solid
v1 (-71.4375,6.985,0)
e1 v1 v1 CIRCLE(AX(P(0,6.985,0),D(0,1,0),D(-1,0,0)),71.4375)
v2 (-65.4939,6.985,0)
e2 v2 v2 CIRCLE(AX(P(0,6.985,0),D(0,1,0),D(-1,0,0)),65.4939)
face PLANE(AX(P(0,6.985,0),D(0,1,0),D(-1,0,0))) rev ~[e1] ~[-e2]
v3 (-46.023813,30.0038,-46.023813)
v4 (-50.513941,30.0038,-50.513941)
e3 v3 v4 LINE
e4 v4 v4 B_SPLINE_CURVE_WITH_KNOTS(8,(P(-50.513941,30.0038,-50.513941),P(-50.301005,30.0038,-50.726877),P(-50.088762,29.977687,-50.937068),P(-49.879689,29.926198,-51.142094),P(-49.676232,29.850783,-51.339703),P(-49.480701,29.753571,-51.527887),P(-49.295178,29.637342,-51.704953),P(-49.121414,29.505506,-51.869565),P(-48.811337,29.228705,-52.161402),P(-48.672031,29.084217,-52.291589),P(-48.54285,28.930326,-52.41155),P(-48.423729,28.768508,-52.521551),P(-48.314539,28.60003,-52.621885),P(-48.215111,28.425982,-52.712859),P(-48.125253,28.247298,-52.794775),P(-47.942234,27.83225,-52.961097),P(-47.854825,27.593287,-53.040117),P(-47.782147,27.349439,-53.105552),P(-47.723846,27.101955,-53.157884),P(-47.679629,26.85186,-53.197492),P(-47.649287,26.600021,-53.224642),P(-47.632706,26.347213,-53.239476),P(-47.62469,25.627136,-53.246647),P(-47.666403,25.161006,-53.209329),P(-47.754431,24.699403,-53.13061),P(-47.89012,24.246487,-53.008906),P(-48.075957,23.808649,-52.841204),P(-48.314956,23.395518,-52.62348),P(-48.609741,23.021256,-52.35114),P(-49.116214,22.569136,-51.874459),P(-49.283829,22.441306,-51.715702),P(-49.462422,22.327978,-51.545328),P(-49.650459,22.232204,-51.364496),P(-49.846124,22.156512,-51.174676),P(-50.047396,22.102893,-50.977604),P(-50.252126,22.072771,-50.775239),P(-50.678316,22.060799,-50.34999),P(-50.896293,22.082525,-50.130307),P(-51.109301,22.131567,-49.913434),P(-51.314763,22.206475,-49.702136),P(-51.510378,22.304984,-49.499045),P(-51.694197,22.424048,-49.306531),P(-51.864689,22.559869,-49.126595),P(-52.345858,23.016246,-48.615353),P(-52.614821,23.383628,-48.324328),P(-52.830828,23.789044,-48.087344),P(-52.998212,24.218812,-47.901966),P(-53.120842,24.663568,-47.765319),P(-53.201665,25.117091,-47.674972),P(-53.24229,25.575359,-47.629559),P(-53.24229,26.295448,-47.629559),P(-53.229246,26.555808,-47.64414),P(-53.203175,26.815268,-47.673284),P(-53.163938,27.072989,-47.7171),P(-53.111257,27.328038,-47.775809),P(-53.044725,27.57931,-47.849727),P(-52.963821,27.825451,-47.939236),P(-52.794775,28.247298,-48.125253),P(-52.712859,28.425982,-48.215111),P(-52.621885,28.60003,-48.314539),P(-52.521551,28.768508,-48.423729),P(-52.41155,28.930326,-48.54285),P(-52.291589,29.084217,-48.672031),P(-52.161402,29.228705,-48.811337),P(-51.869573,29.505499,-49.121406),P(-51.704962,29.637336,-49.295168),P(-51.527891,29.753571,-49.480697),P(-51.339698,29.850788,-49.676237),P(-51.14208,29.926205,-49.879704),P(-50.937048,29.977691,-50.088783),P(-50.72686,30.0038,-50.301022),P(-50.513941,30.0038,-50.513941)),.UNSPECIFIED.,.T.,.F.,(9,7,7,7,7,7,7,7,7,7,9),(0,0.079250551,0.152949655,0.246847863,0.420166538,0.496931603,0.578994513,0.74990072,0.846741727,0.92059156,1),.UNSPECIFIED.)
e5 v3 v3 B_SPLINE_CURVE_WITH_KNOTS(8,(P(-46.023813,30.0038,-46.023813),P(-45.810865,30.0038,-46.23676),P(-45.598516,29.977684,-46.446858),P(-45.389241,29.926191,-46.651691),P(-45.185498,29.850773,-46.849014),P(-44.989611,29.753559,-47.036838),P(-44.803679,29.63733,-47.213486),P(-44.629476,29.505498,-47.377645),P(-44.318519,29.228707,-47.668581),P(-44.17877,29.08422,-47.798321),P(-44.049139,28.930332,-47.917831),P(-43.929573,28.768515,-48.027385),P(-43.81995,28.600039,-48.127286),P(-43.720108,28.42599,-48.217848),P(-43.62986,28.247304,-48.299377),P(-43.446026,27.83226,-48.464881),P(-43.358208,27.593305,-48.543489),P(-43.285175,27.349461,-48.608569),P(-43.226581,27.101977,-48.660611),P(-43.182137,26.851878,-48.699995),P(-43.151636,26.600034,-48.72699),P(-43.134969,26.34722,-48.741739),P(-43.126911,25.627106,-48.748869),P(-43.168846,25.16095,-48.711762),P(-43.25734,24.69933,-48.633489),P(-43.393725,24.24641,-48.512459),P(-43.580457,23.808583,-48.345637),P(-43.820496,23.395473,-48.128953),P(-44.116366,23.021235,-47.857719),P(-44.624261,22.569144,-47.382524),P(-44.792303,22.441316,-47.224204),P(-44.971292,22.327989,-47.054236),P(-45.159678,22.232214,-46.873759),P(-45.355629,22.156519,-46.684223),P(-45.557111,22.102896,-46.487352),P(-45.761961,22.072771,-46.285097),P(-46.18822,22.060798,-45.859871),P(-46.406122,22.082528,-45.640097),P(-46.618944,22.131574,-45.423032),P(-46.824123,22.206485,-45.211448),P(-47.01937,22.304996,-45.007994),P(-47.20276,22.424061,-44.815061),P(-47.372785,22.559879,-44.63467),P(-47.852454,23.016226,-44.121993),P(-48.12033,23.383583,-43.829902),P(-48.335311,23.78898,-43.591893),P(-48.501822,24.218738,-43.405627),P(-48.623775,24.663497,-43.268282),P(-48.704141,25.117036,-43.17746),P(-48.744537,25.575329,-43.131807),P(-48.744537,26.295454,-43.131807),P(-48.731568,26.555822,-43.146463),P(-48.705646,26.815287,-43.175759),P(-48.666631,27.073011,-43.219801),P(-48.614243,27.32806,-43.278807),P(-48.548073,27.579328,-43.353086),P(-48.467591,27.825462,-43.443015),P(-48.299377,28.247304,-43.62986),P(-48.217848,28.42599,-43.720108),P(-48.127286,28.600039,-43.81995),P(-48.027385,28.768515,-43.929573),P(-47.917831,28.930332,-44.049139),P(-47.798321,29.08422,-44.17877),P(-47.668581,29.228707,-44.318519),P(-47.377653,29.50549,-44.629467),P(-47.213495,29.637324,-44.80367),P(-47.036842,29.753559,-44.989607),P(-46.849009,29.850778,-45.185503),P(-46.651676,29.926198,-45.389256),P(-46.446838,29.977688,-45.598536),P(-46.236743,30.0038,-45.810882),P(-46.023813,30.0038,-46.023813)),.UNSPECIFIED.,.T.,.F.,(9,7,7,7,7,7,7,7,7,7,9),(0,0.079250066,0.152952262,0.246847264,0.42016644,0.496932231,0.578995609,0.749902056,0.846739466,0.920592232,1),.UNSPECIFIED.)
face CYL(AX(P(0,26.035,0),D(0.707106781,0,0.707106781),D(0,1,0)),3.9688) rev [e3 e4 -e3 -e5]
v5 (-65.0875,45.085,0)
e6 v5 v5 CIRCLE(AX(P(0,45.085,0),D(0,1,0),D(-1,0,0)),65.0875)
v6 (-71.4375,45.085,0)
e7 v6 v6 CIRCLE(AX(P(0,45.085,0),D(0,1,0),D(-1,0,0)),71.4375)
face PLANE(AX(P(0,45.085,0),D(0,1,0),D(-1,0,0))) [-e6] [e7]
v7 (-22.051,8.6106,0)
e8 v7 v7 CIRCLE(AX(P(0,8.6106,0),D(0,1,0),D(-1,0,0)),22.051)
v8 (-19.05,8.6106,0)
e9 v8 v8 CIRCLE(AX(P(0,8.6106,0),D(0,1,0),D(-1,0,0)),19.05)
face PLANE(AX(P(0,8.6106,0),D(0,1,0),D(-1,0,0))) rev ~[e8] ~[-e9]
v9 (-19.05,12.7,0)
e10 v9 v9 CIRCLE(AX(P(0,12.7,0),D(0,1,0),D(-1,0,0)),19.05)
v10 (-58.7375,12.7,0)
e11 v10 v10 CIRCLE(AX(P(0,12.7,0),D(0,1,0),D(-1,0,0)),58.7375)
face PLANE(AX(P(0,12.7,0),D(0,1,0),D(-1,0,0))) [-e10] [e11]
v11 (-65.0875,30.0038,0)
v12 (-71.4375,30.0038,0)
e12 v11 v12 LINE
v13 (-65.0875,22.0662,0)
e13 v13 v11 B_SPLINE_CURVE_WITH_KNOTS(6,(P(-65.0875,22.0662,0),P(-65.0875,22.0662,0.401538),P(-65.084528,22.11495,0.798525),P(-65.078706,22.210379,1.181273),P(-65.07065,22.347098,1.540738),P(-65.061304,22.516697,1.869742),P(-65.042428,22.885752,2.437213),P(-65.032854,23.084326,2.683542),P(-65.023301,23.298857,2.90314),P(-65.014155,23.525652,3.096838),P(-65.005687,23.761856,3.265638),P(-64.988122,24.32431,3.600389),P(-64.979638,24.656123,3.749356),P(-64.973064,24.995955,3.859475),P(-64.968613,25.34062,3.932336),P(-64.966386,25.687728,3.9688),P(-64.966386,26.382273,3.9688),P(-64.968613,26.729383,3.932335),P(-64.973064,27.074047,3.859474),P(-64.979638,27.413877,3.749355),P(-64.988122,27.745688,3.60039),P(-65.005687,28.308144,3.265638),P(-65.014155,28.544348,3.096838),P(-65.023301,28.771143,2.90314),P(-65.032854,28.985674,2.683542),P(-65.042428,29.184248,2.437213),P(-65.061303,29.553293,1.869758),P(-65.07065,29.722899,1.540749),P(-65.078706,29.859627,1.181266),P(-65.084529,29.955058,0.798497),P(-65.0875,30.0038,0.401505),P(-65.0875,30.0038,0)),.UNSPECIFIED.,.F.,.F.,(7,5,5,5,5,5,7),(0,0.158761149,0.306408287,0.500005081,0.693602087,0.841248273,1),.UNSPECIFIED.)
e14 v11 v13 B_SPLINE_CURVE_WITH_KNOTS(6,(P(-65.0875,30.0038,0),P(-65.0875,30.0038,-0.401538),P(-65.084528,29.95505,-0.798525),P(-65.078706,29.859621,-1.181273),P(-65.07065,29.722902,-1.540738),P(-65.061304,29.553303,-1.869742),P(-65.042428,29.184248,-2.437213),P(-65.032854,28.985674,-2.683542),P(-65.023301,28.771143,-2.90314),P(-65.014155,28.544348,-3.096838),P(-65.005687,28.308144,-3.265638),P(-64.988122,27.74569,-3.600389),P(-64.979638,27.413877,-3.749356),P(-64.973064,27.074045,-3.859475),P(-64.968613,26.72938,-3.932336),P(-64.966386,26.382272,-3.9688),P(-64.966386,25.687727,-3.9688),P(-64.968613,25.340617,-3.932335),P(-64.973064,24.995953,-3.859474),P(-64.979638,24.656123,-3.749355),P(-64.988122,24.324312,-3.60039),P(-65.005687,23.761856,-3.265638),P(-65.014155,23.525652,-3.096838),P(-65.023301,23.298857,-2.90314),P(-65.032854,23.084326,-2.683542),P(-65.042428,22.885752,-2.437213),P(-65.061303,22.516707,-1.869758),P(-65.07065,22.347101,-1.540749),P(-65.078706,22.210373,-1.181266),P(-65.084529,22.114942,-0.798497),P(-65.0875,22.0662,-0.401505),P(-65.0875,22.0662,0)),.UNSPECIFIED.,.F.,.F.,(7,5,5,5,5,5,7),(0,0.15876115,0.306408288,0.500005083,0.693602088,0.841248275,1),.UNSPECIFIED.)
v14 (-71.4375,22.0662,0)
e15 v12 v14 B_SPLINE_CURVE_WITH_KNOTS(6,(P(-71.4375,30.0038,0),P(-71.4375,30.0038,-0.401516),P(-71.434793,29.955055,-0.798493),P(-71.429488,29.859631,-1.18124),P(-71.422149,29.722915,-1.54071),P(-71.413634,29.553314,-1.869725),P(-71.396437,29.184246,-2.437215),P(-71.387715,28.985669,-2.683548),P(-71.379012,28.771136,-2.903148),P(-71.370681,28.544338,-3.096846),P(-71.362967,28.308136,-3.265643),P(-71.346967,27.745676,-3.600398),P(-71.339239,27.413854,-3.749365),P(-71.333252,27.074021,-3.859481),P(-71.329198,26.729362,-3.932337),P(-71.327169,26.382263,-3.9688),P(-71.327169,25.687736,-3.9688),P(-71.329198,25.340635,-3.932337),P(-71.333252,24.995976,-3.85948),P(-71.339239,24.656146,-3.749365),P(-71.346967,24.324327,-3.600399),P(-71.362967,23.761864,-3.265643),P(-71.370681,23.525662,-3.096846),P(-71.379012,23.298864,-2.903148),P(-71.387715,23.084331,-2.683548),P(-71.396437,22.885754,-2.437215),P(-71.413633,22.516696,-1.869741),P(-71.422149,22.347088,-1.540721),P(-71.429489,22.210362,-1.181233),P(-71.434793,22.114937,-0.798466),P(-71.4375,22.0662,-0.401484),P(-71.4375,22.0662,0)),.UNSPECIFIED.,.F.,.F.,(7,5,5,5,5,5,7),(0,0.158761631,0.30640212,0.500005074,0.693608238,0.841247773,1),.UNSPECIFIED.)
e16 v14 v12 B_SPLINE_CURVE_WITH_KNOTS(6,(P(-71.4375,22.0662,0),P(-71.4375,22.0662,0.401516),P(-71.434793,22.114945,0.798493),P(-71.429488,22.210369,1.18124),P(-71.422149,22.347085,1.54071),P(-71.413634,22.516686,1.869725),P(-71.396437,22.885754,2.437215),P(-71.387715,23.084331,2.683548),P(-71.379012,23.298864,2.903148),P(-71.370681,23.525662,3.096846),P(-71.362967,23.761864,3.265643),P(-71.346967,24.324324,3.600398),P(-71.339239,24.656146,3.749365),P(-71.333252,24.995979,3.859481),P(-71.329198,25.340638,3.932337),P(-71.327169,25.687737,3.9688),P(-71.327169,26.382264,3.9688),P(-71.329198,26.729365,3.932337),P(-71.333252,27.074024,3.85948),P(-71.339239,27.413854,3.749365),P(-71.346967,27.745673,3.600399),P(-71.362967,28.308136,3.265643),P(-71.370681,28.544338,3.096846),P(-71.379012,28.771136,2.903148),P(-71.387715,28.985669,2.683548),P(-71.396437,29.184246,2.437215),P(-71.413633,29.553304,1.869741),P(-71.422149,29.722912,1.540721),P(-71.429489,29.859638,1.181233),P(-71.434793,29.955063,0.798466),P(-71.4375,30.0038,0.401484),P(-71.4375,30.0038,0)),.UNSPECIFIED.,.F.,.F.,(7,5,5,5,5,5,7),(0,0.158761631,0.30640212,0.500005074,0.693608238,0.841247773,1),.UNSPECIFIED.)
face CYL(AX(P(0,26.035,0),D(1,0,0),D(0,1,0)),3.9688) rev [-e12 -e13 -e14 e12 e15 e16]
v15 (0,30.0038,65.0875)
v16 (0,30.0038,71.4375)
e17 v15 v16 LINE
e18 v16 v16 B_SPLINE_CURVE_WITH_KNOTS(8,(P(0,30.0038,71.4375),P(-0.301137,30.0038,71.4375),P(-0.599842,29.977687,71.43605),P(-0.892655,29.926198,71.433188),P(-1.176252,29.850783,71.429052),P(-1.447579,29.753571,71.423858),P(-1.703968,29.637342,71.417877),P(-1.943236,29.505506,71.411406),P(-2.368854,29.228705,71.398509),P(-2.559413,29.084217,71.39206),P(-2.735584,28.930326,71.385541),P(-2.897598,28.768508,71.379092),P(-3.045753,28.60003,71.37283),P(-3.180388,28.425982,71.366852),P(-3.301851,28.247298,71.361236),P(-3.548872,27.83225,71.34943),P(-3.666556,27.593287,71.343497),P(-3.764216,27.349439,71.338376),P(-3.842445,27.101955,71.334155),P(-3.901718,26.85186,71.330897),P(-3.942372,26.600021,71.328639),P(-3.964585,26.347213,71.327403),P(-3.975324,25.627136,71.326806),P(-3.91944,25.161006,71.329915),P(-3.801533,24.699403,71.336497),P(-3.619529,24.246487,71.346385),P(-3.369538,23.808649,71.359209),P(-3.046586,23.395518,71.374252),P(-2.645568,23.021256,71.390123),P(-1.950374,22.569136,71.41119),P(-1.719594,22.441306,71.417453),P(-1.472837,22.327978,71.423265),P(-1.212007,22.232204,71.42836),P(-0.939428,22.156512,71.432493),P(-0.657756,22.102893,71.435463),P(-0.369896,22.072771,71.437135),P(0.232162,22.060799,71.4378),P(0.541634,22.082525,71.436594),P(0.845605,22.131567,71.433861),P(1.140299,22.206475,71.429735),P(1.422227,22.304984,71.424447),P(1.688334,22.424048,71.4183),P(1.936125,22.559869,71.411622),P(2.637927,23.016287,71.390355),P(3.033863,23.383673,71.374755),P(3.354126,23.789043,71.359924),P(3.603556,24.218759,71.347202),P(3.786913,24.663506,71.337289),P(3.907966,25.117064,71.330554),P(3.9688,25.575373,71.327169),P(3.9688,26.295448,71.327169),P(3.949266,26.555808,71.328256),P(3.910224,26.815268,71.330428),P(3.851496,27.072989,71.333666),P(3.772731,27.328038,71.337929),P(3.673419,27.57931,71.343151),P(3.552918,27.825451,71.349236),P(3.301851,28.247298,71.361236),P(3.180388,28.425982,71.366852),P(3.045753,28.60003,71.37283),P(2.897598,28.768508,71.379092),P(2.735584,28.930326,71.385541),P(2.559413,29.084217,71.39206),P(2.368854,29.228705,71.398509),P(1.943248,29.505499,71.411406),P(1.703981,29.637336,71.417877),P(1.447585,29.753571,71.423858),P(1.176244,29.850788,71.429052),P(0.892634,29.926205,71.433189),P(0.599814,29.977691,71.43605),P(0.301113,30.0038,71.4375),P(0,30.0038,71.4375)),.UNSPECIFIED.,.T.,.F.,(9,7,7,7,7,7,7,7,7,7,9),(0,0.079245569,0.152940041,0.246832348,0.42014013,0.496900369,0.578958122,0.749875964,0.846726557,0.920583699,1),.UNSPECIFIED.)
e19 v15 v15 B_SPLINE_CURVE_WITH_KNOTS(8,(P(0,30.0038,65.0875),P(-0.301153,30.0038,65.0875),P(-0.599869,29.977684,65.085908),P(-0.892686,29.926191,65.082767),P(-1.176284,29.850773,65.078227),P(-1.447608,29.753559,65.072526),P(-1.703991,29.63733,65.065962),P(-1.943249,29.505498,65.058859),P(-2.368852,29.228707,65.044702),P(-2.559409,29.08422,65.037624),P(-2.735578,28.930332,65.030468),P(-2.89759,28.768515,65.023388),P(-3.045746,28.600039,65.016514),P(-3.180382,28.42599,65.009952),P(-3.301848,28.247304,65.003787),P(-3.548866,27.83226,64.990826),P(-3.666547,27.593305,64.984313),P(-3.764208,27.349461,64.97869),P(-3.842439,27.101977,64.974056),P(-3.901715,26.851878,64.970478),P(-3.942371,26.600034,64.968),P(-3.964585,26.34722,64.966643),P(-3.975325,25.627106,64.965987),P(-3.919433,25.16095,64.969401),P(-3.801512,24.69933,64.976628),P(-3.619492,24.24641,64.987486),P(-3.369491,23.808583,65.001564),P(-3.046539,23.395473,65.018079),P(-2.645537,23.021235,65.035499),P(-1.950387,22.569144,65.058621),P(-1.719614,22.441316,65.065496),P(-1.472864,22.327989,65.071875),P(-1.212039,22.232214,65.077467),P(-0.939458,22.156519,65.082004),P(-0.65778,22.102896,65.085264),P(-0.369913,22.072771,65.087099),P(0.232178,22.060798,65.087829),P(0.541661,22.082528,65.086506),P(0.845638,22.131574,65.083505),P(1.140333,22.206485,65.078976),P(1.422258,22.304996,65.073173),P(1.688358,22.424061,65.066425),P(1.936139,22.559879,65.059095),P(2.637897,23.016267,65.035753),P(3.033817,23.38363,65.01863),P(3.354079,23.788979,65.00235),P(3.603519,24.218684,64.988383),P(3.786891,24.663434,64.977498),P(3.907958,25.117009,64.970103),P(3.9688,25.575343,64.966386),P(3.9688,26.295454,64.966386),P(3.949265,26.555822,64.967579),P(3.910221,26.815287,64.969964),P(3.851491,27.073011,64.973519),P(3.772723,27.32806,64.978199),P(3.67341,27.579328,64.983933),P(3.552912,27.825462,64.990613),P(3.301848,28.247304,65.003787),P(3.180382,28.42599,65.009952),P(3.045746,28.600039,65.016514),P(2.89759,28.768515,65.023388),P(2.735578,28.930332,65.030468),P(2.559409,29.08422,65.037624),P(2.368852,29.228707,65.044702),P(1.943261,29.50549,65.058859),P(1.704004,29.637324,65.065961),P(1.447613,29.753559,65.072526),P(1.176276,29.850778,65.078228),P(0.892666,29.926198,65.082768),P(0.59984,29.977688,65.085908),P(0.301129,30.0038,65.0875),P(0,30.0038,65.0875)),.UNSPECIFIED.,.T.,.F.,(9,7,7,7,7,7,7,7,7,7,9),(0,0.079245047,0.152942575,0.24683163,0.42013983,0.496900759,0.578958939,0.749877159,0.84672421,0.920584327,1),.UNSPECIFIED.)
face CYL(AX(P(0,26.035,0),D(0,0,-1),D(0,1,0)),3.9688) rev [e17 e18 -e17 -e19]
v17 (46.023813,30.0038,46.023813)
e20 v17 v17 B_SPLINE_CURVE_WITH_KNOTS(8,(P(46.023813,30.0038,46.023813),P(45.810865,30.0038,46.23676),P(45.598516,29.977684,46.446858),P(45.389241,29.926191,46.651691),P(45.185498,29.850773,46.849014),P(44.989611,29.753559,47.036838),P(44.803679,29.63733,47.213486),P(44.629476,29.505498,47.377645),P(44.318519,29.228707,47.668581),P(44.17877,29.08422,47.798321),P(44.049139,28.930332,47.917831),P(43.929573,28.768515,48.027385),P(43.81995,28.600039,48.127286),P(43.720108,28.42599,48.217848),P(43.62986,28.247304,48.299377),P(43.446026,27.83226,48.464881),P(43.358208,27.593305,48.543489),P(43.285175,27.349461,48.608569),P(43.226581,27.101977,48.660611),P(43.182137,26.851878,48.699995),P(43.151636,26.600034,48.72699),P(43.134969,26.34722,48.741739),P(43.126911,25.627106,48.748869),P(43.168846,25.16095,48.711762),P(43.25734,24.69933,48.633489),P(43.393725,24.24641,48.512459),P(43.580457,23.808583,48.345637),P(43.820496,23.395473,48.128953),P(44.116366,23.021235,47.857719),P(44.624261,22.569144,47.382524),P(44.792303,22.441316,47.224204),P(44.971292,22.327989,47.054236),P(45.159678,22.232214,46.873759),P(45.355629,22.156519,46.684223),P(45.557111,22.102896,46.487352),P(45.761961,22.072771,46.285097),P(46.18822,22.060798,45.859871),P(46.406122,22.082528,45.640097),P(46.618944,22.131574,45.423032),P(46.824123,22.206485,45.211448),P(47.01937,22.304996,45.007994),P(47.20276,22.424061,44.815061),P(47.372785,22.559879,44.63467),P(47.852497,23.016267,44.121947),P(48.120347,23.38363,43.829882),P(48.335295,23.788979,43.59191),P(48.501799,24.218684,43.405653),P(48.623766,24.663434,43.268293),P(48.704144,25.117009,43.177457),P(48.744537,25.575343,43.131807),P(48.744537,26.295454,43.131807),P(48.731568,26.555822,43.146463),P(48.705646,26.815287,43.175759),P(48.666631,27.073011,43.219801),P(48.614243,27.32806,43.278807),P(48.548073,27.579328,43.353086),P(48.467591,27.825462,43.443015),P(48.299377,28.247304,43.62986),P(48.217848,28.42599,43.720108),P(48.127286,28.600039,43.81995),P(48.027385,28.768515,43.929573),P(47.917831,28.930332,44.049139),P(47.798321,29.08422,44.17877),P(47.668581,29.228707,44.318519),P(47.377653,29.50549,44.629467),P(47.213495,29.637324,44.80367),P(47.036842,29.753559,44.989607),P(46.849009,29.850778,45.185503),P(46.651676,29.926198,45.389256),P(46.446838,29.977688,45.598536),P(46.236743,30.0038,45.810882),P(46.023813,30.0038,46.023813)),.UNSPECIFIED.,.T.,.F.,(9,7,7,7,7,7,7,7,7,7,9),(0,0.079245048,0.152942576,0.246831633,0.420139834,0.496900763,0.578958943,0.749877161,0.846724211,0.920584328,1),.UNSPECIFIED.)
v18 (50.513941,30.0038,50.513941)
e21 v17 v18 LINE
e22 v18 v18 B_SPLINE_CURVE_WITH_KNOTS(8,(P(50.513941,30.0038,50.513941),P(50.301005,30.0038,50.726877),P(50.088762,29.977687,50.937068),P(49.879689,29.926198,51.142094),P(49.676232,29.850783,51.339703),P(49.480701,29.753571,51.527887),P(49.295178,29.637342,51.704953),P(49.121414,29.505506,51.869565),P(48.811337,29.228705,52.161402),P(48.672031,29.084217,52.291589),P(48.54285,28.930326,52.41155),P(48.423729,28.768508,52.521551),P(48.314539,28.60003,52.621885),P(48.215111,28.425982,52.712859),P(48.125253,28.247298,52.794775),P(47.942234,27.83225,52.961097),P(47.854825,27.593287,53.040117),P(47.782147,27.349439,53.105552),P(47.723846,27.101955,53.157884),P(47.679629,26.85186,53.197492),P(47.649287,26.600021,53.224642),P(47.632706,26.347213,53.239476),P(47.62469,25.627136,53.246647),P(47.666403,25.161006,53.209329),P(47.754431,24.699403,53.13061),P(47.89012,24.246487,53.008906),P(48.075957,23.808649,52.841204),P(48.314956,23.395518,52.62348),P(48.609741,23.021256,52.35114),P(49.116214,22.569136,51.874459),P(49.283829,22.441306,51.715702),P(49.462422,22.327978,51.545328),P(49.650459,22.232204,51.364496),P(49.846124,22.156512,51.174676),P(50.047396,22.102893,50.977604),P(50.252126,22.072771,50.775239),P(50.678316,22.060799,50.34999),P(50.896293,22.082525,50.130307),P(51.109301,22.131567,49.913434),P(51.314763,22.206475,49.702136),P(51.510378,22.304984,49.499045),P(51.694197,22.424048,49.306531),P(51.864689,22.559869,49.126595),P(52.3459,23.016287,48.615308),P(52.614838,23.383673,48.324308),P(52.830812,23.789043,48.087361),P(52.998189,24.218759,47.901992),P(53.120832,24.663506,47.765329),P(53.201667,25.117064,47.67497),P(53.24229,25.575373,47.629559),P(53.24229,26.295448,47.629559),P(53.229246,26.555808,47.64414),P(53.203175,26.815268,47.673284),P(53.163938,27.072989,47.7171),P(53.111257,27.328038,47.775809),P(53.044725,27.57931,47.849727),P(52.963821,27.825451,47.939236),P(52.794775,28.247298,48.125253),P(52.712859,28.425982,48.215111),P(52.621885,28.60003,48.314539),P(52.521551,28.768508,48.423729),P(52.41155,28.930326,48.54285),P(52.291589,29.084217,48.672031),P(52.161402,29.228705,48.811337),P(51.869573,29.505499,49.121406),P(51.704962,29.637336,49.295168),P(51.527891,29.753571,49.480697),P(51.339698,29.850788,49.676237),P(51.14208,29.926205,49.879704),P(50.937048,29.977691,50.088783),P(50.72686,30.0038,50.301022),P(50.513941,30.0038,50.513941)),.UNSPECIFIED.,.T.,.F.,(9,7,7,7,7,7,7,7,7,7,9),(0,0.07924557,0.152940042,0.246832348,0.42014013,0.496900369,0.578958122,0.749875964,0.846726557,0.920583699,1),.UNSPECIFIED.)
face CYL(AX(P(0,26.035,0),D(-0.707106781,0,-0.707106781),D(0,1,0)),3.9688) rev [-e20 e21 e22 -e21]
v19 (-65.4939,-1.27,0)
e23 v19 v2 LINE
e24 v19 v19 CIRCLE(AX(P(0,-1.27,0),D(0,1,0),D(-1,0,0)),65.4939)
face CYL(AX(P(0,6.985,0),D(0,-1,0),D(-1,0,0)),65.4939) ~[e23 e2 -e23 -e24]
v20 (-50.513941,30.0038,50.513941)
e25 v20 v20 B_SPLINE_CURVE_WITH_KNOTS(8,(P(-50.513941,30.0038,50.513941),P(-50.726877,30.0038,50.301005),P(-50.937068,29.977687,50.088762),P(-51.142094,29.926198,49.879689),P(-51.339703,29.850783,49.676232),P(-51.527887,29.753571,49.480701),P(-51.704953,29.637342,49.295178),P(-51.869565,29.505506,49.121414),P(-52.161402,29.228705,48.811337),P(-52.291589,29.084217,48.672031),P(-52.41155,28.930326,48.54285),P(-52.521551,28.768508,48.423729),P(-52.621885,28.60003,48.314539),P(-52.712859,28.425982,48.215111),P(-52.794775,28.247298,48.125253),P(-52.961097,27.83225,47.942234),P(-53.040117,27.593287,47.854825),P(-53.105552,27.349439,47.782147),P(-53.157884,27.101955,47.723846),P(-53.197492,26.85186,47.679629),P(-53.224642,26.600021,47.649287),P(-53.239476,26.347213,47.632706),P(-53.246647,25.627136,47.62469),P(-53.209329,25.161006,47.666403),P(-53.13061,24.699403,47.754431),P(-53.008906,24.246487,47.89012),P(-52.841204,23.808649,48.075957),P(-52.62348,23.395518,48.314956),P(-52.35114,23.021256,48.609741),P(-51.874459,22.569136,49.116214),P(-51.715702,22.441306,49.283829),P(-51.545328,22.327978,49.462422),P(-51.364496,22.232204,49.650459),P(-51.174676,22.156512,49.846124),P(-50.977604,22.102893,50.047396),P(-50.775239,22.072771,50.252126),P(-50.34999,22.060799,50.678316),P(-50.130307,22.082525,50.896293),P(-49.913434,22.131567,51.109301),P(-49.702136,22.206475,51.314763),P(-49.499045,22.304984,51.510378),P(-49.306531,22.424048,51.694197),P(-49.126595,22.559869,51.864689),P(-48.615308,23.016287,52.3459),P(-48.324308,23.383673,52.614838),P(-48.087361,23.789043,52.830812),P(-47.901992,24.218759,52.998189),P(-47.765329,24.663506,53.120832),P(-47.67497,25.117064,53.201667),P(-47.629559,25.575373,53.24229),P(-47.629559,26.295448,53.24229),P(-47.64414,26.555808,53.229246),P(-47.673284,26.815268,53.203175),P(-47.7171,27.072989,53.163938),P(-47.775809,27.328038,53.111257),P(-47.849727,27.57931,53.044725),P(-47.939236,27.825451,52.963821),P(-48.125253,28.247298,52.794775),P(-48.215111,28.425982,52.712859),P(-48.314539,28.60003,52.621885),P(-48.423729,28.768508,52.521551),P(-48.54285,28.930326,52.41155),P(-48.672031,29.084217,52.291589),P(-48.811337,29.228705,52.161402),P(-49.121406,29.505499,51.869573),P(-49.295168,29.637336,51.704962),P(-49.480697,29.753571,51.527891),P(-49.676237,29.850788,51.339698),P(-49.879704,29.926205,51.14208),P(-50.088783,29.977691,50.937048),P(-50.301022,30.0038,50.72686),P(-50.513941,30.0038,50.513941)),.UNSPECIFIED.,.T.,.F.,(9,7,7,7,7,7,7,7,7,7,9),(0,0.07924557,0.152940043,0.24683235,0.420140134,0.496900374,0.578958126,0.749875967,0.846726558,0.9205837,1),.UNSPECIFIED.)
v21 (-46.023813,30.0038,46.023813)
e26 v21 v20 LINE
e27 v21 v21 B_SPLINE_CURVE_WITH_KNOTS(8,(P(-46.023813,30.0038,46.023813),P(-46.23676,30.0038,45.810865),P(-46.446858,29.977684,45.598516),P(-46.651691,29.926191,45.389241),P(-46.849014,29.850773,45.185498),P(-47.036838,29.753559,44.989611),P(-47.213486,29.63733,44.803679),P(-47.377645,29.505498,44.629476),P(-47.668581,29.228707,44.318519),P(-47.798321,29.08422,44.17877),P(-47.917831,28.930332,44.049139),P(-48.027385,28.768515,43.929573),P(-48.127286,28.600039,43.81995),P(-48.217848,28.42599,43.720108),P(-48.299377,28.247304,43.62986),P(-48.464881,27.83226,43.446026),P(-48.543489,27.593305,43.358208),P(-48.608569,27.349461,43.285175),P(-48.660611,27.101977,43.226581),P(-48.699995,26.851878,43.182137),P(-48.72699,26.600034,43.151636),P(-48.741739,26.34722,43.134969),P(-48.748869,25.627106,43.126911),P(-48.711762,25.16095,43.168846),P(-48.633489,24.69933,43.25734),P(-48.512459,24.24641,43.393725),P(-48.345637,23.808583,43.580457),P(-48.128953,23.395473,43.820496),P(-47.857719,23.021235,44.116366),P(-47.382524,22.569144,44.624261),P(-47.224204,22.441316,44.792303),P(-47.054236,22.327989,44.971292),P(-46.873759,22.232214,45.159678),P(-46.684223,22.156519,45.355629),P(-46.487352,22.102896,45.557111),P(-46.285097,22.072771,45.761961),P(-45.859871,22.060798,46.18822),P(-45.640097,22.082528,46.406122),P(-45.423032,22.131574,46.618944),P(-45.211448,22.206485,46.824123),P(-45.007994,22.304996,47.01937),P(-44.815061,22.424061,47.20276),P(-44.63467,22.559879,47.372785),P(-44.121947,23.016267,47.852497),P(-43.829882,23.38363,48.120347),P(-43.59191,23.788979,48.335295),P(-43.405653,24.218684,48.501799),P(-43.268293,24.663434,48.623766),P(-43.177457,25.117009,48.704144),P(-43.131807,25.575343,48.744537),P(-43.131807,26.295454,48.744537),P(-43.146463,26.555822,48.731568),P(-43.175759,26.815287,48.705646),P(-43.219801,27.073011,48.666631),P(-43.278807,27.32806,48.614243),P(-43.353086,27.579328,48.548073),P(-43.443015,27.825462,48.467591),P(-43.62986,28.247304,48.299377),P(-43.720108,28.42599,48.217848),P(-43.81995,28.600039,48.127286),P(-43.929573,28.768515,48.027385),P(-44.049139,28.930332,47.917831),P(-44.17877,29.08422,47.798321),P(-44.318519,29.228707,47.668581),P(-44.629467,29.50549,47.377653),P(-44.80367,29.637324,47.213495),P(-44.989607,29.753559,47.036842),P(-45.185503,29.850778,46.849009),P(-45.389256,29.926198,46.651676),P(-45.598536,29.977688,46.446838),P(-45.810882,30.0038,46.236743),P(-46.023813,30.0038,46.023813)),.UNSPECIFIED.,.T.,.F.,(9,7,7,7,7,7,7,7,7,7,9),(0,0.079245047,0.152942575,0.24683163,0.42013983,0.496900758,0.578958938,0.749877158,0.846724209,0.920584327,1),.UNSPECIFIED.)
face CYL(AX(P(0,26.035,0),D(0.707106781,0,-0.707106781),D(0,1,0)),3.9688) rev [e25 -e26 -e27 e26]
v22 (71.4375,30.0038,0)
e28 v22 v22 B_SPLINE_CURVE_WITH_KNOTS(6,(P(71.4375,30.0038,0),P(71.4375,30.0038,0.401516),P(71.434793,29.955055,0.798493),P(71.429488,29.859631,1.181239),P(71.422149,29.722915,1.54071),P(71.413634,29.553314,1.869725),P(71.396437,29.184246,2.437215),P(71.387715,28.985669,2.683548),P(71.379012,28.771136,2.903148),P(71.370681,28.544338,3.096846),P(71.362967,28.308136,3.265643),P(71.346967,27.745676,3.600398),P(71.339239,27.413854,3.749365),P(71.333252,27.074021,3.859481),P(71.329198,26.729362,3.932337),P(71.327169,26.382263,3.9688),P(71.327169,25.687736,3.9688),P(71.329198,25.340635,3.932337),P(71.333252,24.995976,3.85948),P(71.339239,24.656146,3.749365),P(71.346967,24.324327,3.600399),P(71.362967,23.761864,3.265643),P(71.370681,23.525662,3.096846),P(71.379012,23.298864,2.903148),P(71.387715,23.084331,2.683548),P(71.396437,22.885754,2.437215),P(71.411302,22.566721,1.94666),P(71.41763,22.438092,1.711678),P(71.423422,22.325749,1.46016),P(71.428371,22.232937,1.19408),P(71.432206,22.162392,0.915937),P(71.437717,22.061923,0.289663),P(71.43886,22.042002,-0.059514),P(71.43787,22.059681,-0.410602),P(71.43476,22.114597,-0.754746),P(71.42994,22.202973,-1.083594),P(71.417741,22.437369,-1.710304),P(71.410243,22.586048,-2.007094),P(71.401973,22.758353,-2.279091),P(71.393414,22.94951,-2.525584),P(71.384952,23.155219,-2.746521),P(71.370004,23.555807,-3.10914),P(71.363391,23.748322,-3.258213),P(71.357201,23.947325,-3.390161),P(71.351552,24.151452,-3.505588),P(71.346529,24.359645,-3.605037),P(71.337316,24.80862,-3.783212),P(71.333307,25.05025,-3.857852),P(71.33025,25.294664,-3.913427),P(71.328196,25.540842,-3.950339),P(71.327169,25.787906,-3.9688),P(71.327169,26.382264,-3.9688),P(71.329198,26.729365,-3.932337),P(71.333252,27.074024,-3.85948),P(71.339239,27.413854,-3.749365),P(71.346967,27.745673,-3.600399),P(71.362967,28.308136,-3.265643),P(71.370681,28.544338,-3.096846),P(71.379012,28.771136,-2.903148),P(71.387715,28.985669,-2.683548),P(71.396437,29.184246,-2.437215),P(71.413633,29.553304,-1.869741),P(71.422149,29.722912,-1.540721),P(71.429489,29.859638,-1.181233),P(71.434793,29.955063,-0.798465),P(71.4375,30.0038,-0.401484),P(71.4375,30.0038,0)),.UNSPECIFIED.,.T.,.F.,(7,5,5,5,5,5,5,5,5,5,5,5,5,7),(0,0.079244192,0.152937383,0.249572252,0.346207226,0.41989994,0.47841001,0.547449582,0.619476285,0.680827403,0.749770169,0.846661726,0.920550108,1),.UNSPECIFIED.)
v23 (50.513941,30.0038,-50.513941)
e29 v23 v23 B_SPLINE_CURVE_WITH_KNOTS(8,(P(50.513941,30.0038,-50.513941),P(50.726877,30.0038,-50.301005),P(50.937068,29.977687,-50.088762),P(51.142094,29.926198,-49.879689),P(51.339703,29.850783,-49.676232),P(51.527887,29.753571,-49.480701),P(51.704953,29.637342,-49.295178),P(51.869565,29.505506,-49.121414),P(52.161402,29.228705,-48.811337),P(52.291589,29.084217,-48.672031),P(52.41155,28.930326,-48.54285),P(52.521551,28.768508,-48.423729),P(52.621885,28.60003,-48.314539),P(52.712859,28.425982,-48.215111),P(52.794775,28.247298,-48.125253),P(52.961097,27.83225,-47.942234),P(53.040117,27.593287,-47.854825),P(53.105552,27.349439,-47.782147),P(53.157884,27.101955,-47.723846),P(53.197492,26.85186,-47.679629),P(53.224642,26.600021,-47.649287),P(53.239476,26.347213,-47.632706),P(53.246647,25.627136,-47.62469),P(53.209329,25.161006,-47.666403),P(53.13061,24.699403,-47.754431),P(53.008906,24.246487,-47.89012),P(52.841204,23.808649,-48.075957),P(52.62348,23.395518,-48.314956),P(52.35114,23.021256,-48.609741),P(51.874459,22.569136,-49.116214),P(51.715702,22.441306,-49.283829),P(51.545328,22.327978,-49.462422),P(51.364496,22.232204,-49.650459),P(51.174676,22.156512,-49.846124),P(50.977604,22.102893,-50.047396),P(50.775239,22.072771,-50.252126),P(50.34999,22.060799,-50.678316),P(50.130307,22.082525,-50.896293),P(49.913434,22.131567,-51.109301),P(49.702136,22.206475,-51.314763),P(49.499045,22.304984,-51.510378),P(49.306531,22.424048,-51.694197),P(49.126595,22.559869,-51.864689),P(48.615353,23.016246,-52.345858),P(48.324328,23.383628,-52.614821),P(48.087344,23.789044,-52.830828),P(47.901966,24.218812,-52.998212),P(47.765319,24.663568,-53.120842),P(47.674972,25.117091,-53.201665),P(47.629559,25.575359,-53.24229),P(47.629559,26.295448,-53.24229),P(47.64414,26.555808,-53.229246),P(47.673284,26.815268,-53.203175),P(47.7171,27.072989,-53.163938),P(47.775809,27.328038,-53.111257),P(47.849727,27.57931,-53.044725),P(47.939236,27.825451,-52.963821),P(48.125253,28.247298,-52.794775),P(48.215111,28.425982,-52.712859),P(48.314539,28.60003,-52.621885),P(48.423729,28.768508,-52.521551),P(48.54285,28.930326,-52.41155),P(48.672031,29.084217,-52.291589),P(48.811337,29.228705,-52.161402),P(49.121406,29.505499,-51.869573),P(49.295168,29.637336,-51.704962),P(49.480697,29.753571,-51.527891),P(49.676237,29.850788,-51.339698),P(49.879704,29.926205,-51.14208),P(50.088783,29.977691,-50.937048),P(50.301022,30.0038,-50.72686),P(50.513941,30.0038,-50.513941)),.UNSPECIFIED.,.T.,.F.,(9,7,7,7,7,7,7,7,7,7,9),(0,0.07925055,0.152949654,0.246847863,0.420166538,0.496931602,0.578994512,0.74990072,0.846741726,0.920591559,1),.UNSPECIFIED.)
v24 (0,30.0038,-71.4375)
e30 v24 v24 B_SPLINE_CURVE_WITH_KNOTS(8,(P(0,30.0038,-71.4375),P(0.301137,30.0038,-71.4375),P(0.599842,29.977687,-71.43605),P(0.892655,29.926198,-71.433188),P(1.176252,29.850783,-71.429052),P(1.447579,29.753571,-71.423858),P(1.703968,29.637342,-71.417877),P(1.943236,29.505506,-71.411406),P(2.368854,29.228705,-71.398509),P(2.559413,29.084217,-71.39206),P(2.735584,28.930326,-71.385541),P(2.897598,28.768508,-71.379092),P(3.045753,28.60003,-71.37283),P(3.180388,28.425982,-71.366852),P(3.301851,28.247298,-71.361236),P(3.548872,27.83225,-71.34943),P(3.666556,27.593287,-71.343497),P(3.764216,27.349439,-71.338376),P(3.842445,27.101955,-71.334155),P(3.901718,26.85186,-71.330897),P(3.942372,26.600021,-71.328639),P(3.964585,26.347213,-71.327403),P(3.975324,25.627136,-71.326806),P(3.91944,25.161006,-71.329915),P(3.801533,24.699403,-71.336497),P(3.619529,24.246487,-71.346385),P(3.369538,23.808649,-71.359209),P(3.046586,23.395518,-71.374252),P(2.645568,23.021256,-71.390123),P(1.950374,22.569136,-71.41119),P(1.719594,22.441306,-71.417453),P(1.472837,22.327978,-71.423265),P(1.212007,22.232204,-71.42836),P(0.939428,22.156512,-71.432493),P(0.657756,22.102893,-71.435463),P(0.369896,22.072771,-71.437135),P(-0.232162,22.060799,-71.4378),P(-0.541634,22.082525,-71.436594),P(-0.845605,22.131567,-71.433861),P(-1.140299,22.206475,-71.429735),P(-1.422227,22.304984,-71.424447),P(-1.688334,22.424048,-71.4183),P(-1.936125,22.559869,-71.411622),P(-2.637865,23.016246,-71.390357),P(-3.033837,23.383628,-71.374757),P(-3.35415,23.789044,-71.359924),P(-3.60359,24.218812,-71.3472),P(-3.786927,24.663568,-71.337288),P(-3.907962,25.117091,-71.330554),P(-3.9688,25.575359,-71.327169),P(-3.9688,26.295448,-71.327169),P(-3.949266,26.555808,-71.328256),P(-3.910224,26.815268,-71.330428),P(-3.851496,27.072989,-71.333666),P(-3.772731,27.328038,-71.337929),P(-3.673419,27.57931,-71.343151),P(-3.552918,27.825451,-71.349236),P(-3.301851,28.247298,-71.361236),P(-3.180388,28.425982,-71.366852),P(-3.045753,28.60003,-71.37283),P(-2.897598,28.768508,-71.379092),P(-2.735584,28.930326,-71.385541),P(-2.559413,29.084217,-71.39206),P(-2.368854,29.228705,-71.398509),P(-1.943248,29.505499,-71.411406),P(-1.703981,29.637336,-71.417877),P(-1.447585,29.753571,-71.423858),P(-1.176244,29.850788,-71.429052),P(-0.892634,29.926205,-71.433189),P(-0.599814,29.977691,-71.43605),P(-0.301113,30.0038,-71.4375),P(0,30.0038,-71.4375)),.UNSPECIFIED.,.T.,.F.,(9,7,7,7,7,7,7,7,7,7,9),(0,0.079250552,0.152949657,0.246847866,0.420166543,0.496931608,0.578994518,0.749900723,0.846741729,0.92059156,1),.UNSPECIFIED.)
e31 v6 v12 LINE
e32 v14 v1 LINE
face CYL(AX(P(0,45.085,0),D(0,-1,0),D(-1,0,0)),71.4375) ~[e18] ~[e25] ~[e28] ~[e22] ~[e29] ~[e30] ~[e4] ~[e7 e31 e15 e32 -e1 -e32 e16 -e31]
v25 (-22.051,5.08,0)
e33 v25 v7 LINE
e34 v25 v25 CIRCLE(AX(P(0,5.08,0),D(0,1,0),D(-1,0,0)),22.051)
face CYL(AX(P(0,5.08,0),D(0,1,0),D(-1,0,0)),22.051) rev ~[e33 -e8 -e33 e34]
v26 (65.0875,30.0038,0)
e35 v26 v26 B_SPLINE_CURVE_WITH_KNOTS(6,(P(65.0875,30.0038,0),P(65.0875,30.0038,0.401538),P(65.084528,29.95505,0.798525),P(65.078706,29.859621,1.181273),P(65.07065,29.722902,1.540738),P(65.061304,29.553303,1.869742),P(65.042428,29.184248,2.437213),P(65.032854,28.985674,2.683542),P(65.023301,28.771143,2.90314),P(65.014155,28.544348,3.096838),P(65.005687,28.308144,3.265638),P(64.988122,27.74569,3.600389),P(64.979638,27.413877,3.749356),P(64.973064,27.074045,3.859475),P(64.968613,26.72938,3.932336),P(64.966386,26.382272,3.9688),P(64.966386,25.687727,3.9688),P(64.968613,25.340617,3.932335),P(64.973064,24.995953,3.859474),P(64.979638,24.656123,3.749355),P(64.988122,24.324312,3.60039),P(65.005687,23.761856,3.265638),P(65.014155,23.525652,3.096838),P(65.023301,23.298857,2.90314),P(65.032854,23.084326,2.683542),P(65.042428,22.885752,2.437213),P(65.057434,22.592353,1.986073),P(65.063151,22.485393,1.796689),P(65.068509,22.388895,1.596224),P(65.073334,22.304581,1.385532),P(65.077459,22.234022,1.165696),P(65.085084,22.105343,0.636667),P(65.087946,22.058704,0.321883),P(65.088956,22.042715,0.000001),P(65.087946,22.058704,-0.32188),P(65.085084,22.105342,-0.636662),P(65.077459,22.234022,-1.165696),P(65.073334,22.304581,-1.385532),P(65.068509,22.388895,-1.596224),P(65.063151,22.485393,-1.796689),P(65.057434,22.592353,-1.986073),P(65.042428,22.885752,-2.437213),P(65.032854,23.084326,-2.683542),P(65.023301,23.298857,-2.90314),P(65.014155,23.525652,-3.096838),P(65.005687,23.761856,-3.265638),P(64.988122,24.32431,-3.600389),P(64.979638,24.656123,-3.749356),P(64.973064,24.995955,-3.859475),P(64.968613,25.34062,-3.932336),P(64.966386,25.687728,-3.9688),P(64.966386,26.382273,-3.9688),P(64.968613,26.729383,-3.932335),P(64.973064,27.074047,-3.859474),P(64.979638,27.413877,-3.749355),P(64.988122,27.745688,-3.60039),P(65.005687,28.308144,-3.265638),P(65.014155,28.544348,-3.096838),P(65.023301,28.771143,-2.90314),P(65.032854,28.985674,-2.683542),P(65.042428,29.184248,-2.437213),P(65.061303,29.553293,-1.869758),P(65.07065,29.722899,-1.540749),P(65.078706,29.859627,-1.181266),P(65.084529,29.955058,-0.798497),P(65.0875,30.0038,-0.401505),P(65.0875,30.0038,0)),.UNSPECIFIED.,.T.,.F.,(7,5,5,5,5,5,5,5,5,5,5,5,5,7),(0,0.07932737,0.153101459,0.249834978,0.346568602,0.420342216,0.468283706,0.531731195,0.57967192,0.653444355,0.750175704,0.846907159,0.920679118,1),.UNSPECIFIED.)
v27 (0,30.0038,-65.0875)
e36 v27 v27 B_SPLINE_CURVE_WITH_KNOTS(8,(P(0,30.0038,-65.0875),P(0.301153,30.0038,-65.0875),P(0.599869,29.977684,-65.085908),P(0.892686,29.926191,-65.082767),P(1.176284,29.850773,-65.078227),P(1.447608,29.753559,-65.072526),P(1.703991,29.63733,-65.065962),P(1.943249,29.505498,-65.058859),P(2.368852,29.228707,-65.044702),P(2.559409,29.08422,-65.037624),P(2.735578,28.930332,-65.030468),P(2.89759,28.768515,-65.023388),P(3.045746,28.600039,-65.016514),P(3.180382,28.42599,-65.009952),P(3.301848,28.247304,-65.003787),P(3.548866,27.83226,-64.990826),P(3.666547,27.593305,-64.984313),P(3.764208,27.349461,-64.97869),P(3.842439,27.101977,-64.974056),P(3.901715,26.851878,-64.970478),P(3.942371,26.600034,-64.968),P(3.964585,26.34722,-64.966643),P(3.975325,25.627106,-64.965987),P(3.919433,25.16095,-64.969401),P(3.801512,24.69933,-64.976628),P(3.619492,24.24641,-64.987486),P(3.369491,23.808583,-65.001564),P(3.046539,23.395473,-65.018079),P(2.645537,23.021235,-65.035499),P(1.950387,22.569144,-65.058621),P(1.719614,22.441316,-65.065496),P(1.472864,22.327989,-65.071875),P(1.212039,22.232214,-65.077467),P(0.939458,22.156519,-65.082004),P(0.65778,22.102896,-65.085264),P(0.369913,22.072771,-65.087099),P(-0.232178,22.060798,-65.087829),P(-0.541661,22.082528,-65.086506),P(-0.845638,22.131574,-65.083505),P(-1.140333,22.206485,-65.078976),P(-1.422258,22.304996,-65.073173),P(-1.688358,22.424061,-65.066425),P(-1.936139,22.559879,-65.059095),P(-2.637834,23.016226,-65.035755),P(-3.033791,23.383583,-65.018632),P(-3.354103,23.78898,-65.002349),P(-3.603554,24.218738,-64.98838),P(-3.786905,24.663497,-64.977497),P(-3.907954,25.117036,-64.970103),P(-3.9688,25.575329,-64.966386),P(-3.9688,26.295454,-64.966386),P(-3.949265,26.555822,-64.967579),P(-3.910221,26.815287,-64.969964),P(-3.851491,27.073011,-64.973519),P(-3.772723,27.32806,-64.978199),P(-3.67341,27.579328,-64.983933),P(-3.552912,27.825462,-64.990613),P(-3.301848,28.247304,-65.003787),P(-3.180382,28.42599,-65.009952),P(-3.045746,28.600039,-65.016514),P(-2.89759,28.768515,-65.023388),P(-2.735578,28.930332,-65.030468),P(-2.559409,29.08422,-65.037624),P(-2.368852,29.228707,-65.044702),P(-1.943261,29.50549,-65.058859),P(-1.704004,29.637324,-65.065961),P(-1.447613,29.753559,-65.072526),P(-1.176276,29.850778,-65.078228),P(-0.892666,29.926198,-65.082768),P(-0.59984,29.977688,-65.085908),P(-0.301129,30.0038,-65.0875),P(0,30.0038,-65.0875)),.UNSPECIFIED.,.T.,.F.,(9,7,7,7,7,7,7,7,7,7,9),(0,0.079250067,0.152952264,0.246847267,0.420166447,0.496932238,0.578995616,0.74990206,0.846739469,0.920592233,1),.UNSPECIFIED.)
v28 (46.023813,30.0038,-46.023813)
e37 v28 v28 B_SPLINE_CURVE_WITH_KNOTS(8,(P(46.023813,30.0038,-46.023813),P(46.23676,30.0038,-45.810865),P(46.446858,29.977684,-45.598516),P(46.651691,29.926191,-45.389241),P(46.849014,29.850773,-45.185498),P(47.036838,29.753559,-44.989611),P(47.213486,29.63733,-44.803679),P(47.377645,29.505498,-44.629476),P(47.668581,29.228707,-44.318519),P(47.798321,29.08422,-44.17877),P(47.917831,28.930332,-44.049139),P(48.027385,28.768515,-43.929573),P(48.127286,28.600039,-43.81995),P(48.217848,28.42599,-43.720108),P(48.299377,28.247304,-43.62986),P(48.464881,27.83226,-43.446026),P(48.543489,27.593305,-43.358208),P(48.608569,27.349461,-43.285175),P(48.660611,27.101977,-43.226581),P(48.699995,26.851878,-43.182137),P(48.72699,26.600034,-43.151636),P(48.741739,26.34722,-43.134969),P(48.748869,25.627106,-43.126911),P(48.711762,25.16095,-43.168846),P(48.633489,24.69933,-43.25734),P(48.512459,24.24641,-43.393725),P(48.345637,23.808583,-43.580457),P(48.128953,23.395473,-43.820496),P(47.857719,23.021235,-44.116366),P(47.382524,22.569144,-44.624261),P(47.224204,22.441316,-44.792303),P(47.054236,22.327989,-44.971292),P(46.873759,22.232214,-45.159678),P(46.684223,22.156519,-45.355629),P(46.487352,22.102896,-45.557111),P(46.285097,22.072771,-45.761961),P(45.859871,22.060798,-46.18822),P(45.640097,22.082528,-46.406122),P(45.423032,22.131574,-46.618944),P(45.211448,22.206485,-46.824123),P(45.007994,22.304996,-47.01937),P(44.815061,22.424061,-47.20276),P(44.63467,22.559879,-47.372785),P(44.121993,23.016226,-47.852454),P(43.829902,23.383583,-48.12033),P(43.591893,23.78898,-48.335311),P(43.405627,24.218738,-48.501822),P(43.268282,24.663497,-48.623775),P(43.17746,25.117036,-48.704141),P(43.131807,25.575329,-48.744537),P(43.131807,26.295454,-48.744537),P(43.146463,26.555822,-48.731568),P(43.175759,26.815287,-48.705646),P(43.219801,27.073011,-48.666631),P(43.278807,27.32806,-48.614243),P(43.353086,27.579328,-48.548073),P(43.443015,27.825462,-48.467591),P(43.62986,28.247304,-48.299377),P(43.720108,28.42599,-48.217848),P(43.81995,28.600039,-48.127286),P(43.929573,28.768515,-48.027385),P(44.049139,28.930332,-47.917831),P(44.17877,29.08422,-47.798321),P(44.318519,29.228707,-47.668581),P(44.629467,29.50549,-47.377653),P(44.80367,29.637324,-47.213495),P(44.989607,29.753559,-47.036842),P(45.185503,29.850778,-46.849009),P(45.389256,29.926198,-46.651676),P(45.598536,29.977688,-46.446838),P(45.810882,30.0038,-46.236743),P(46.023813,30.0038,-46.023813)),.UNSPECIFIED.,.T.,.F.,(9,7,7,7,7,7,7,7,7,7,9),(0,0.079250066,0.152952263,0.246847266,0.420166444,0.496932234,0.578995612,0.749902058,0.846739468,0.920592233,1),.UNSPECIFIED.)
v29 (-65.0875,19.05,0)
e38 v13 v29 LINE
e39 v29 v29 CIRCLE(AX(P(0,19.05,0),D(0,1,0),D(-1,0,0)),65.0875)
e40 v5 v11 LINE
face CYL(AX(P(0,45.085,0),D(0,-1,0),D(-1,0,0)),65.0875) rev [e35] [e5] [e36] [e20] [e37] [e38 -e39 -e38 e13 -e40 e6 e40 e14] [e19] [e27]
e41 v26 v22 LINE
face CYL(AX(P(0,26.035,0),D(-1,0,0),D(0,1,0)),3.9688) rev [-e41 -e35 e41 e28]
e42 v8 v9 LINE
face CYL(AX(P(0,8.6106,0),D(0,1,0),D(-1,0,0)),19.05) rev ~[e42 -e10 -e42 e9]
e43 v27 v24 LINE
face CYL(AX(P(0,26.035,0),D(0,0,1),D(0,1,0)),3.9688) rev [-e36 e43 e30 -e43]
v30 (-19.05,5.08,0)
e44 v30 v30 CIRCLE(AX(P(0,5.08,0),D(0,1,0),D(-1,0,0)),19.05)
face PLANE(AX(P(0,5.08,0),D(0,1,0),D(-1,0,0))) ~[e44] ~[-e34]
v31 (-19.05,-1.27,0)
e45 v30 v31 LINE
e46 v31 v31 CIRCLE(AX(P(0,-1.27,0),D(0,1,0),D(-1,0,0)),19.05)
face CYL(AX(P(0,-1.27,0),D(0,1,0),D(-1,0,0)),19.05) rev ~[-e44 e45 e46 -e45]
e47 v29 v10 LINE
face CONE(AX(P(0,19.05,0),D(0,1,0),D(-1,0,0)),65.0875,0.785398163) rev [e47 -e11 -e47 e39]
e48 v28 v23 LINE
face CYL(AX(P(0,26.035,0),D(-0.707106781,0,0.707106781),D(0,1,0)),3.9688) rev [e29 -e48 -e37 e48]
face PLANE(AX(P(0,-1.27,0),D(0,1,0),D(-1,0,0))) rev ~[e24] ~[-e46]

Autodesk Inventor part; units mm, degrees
ref_plane "YZ Plane" through (0, 0, 0) normal (1, 0, 0) x (0, 1, 0)
ref_plane "XZ Plane" through (0, 0, 0) normal (0, 1, 0) x (-1, 0, 0)
ref_plane "XY Plane" through (0, 0, 0) normal (0, 0, 1) x (1, 0, 0)
sketch "Sketch1" plane through (0, 0, 0) normal (0, 0, 1) x (1, 0, 0)
  line L0 (-71.4375, 45.085) -> (-65.0875, 45.085)
  line L1 (-19.05, 0) -> (-19.05, 5.08)
  line L2 (-19.05, 5.08) -> (-22.051, 5.08)
  line L3 (-22.051, 5.08) -> (-22.051, 8.6106)
  line L4 (-22.051, 8.6106) -> (-19.05, 8.6106)
  line L5 (-19.05, 0) -> (-19.05, 5.08)
  line L6 (-19.05, 8.6106) -> (-19.05, 12.7)
  line L7 (0, 0) -> (0, 17.0653)
  line L8 (-71.4375, 6.985) -> (-65.4939, 6.985)
  line L9 (-65.4939, 6.985) -> (-65.4939, 0)
  line L10 (-71.4375, 45.085) -> (-71.4375, 6.985)
  line L11 (-65.4939, 0) -> (-65.4939, -1.27)
  line L12 (-65.4939, -1.27) -> (-19.05, -1.27)
  line L13 (-19.05, -1.27) -> (-19.05, 0)
  line L14 (-65.0875, 19.05) -> (-58.7375, 12.7)
  line L15 (-65.0875, 45.085) -> (-65.0875, 19.05)
  line L16 (-58.7375, 12.7) -> (-19.05, 12.7)
  dimension "d3" = 19.05
  dimension "d8" = 12.7
  dimension "d9" = 5.08
  dimension "d10" = 3.001
  dimension "d11" = 3.5306
  dimension "d12" = 4.0894
  dimension "d26" = 5.9436
  dimension "d28" = 1.27
  dimension "d29" = 6.985
  dimension "d30" = 38.1
  dimension "d31" = 46.4439
  dimension "d32" = 1.27
  dimension "d35" = 39.6875
  dimension "d37" = 135
  dimension "d40" = 71.4375
  dimension "d41" = 20.32
  dimension "d42" = 26.035
revolve "Revolution3" add sketch "Sketch1" angle 360 about axis through (0, 0, 0) along (0, 1, 0)
sketch "Sketch2" plane through (0, 0, 0) normal (1, 0, 0) x (0, 1, 0)
  line L0 (45.085, -65.0875) -> (45.085, 65.0875) projected
  circle A0 centre (26.035, 0) radius 3.9688
  point P0 (0, 0)
  dimension "d45" = 7.9375
extrude "Extrusion1" cut sketch "Sketch2" along normal blind 207.9625
pattern_circular "Circular Pattern1" count 8 over 360 about axis through (0, 32.0675, 0) along (0, 1, 0) of "Extrusion1"
properties part number "Forward Closure" material "Aluminum 6061 T6 0 Cold Formed"
